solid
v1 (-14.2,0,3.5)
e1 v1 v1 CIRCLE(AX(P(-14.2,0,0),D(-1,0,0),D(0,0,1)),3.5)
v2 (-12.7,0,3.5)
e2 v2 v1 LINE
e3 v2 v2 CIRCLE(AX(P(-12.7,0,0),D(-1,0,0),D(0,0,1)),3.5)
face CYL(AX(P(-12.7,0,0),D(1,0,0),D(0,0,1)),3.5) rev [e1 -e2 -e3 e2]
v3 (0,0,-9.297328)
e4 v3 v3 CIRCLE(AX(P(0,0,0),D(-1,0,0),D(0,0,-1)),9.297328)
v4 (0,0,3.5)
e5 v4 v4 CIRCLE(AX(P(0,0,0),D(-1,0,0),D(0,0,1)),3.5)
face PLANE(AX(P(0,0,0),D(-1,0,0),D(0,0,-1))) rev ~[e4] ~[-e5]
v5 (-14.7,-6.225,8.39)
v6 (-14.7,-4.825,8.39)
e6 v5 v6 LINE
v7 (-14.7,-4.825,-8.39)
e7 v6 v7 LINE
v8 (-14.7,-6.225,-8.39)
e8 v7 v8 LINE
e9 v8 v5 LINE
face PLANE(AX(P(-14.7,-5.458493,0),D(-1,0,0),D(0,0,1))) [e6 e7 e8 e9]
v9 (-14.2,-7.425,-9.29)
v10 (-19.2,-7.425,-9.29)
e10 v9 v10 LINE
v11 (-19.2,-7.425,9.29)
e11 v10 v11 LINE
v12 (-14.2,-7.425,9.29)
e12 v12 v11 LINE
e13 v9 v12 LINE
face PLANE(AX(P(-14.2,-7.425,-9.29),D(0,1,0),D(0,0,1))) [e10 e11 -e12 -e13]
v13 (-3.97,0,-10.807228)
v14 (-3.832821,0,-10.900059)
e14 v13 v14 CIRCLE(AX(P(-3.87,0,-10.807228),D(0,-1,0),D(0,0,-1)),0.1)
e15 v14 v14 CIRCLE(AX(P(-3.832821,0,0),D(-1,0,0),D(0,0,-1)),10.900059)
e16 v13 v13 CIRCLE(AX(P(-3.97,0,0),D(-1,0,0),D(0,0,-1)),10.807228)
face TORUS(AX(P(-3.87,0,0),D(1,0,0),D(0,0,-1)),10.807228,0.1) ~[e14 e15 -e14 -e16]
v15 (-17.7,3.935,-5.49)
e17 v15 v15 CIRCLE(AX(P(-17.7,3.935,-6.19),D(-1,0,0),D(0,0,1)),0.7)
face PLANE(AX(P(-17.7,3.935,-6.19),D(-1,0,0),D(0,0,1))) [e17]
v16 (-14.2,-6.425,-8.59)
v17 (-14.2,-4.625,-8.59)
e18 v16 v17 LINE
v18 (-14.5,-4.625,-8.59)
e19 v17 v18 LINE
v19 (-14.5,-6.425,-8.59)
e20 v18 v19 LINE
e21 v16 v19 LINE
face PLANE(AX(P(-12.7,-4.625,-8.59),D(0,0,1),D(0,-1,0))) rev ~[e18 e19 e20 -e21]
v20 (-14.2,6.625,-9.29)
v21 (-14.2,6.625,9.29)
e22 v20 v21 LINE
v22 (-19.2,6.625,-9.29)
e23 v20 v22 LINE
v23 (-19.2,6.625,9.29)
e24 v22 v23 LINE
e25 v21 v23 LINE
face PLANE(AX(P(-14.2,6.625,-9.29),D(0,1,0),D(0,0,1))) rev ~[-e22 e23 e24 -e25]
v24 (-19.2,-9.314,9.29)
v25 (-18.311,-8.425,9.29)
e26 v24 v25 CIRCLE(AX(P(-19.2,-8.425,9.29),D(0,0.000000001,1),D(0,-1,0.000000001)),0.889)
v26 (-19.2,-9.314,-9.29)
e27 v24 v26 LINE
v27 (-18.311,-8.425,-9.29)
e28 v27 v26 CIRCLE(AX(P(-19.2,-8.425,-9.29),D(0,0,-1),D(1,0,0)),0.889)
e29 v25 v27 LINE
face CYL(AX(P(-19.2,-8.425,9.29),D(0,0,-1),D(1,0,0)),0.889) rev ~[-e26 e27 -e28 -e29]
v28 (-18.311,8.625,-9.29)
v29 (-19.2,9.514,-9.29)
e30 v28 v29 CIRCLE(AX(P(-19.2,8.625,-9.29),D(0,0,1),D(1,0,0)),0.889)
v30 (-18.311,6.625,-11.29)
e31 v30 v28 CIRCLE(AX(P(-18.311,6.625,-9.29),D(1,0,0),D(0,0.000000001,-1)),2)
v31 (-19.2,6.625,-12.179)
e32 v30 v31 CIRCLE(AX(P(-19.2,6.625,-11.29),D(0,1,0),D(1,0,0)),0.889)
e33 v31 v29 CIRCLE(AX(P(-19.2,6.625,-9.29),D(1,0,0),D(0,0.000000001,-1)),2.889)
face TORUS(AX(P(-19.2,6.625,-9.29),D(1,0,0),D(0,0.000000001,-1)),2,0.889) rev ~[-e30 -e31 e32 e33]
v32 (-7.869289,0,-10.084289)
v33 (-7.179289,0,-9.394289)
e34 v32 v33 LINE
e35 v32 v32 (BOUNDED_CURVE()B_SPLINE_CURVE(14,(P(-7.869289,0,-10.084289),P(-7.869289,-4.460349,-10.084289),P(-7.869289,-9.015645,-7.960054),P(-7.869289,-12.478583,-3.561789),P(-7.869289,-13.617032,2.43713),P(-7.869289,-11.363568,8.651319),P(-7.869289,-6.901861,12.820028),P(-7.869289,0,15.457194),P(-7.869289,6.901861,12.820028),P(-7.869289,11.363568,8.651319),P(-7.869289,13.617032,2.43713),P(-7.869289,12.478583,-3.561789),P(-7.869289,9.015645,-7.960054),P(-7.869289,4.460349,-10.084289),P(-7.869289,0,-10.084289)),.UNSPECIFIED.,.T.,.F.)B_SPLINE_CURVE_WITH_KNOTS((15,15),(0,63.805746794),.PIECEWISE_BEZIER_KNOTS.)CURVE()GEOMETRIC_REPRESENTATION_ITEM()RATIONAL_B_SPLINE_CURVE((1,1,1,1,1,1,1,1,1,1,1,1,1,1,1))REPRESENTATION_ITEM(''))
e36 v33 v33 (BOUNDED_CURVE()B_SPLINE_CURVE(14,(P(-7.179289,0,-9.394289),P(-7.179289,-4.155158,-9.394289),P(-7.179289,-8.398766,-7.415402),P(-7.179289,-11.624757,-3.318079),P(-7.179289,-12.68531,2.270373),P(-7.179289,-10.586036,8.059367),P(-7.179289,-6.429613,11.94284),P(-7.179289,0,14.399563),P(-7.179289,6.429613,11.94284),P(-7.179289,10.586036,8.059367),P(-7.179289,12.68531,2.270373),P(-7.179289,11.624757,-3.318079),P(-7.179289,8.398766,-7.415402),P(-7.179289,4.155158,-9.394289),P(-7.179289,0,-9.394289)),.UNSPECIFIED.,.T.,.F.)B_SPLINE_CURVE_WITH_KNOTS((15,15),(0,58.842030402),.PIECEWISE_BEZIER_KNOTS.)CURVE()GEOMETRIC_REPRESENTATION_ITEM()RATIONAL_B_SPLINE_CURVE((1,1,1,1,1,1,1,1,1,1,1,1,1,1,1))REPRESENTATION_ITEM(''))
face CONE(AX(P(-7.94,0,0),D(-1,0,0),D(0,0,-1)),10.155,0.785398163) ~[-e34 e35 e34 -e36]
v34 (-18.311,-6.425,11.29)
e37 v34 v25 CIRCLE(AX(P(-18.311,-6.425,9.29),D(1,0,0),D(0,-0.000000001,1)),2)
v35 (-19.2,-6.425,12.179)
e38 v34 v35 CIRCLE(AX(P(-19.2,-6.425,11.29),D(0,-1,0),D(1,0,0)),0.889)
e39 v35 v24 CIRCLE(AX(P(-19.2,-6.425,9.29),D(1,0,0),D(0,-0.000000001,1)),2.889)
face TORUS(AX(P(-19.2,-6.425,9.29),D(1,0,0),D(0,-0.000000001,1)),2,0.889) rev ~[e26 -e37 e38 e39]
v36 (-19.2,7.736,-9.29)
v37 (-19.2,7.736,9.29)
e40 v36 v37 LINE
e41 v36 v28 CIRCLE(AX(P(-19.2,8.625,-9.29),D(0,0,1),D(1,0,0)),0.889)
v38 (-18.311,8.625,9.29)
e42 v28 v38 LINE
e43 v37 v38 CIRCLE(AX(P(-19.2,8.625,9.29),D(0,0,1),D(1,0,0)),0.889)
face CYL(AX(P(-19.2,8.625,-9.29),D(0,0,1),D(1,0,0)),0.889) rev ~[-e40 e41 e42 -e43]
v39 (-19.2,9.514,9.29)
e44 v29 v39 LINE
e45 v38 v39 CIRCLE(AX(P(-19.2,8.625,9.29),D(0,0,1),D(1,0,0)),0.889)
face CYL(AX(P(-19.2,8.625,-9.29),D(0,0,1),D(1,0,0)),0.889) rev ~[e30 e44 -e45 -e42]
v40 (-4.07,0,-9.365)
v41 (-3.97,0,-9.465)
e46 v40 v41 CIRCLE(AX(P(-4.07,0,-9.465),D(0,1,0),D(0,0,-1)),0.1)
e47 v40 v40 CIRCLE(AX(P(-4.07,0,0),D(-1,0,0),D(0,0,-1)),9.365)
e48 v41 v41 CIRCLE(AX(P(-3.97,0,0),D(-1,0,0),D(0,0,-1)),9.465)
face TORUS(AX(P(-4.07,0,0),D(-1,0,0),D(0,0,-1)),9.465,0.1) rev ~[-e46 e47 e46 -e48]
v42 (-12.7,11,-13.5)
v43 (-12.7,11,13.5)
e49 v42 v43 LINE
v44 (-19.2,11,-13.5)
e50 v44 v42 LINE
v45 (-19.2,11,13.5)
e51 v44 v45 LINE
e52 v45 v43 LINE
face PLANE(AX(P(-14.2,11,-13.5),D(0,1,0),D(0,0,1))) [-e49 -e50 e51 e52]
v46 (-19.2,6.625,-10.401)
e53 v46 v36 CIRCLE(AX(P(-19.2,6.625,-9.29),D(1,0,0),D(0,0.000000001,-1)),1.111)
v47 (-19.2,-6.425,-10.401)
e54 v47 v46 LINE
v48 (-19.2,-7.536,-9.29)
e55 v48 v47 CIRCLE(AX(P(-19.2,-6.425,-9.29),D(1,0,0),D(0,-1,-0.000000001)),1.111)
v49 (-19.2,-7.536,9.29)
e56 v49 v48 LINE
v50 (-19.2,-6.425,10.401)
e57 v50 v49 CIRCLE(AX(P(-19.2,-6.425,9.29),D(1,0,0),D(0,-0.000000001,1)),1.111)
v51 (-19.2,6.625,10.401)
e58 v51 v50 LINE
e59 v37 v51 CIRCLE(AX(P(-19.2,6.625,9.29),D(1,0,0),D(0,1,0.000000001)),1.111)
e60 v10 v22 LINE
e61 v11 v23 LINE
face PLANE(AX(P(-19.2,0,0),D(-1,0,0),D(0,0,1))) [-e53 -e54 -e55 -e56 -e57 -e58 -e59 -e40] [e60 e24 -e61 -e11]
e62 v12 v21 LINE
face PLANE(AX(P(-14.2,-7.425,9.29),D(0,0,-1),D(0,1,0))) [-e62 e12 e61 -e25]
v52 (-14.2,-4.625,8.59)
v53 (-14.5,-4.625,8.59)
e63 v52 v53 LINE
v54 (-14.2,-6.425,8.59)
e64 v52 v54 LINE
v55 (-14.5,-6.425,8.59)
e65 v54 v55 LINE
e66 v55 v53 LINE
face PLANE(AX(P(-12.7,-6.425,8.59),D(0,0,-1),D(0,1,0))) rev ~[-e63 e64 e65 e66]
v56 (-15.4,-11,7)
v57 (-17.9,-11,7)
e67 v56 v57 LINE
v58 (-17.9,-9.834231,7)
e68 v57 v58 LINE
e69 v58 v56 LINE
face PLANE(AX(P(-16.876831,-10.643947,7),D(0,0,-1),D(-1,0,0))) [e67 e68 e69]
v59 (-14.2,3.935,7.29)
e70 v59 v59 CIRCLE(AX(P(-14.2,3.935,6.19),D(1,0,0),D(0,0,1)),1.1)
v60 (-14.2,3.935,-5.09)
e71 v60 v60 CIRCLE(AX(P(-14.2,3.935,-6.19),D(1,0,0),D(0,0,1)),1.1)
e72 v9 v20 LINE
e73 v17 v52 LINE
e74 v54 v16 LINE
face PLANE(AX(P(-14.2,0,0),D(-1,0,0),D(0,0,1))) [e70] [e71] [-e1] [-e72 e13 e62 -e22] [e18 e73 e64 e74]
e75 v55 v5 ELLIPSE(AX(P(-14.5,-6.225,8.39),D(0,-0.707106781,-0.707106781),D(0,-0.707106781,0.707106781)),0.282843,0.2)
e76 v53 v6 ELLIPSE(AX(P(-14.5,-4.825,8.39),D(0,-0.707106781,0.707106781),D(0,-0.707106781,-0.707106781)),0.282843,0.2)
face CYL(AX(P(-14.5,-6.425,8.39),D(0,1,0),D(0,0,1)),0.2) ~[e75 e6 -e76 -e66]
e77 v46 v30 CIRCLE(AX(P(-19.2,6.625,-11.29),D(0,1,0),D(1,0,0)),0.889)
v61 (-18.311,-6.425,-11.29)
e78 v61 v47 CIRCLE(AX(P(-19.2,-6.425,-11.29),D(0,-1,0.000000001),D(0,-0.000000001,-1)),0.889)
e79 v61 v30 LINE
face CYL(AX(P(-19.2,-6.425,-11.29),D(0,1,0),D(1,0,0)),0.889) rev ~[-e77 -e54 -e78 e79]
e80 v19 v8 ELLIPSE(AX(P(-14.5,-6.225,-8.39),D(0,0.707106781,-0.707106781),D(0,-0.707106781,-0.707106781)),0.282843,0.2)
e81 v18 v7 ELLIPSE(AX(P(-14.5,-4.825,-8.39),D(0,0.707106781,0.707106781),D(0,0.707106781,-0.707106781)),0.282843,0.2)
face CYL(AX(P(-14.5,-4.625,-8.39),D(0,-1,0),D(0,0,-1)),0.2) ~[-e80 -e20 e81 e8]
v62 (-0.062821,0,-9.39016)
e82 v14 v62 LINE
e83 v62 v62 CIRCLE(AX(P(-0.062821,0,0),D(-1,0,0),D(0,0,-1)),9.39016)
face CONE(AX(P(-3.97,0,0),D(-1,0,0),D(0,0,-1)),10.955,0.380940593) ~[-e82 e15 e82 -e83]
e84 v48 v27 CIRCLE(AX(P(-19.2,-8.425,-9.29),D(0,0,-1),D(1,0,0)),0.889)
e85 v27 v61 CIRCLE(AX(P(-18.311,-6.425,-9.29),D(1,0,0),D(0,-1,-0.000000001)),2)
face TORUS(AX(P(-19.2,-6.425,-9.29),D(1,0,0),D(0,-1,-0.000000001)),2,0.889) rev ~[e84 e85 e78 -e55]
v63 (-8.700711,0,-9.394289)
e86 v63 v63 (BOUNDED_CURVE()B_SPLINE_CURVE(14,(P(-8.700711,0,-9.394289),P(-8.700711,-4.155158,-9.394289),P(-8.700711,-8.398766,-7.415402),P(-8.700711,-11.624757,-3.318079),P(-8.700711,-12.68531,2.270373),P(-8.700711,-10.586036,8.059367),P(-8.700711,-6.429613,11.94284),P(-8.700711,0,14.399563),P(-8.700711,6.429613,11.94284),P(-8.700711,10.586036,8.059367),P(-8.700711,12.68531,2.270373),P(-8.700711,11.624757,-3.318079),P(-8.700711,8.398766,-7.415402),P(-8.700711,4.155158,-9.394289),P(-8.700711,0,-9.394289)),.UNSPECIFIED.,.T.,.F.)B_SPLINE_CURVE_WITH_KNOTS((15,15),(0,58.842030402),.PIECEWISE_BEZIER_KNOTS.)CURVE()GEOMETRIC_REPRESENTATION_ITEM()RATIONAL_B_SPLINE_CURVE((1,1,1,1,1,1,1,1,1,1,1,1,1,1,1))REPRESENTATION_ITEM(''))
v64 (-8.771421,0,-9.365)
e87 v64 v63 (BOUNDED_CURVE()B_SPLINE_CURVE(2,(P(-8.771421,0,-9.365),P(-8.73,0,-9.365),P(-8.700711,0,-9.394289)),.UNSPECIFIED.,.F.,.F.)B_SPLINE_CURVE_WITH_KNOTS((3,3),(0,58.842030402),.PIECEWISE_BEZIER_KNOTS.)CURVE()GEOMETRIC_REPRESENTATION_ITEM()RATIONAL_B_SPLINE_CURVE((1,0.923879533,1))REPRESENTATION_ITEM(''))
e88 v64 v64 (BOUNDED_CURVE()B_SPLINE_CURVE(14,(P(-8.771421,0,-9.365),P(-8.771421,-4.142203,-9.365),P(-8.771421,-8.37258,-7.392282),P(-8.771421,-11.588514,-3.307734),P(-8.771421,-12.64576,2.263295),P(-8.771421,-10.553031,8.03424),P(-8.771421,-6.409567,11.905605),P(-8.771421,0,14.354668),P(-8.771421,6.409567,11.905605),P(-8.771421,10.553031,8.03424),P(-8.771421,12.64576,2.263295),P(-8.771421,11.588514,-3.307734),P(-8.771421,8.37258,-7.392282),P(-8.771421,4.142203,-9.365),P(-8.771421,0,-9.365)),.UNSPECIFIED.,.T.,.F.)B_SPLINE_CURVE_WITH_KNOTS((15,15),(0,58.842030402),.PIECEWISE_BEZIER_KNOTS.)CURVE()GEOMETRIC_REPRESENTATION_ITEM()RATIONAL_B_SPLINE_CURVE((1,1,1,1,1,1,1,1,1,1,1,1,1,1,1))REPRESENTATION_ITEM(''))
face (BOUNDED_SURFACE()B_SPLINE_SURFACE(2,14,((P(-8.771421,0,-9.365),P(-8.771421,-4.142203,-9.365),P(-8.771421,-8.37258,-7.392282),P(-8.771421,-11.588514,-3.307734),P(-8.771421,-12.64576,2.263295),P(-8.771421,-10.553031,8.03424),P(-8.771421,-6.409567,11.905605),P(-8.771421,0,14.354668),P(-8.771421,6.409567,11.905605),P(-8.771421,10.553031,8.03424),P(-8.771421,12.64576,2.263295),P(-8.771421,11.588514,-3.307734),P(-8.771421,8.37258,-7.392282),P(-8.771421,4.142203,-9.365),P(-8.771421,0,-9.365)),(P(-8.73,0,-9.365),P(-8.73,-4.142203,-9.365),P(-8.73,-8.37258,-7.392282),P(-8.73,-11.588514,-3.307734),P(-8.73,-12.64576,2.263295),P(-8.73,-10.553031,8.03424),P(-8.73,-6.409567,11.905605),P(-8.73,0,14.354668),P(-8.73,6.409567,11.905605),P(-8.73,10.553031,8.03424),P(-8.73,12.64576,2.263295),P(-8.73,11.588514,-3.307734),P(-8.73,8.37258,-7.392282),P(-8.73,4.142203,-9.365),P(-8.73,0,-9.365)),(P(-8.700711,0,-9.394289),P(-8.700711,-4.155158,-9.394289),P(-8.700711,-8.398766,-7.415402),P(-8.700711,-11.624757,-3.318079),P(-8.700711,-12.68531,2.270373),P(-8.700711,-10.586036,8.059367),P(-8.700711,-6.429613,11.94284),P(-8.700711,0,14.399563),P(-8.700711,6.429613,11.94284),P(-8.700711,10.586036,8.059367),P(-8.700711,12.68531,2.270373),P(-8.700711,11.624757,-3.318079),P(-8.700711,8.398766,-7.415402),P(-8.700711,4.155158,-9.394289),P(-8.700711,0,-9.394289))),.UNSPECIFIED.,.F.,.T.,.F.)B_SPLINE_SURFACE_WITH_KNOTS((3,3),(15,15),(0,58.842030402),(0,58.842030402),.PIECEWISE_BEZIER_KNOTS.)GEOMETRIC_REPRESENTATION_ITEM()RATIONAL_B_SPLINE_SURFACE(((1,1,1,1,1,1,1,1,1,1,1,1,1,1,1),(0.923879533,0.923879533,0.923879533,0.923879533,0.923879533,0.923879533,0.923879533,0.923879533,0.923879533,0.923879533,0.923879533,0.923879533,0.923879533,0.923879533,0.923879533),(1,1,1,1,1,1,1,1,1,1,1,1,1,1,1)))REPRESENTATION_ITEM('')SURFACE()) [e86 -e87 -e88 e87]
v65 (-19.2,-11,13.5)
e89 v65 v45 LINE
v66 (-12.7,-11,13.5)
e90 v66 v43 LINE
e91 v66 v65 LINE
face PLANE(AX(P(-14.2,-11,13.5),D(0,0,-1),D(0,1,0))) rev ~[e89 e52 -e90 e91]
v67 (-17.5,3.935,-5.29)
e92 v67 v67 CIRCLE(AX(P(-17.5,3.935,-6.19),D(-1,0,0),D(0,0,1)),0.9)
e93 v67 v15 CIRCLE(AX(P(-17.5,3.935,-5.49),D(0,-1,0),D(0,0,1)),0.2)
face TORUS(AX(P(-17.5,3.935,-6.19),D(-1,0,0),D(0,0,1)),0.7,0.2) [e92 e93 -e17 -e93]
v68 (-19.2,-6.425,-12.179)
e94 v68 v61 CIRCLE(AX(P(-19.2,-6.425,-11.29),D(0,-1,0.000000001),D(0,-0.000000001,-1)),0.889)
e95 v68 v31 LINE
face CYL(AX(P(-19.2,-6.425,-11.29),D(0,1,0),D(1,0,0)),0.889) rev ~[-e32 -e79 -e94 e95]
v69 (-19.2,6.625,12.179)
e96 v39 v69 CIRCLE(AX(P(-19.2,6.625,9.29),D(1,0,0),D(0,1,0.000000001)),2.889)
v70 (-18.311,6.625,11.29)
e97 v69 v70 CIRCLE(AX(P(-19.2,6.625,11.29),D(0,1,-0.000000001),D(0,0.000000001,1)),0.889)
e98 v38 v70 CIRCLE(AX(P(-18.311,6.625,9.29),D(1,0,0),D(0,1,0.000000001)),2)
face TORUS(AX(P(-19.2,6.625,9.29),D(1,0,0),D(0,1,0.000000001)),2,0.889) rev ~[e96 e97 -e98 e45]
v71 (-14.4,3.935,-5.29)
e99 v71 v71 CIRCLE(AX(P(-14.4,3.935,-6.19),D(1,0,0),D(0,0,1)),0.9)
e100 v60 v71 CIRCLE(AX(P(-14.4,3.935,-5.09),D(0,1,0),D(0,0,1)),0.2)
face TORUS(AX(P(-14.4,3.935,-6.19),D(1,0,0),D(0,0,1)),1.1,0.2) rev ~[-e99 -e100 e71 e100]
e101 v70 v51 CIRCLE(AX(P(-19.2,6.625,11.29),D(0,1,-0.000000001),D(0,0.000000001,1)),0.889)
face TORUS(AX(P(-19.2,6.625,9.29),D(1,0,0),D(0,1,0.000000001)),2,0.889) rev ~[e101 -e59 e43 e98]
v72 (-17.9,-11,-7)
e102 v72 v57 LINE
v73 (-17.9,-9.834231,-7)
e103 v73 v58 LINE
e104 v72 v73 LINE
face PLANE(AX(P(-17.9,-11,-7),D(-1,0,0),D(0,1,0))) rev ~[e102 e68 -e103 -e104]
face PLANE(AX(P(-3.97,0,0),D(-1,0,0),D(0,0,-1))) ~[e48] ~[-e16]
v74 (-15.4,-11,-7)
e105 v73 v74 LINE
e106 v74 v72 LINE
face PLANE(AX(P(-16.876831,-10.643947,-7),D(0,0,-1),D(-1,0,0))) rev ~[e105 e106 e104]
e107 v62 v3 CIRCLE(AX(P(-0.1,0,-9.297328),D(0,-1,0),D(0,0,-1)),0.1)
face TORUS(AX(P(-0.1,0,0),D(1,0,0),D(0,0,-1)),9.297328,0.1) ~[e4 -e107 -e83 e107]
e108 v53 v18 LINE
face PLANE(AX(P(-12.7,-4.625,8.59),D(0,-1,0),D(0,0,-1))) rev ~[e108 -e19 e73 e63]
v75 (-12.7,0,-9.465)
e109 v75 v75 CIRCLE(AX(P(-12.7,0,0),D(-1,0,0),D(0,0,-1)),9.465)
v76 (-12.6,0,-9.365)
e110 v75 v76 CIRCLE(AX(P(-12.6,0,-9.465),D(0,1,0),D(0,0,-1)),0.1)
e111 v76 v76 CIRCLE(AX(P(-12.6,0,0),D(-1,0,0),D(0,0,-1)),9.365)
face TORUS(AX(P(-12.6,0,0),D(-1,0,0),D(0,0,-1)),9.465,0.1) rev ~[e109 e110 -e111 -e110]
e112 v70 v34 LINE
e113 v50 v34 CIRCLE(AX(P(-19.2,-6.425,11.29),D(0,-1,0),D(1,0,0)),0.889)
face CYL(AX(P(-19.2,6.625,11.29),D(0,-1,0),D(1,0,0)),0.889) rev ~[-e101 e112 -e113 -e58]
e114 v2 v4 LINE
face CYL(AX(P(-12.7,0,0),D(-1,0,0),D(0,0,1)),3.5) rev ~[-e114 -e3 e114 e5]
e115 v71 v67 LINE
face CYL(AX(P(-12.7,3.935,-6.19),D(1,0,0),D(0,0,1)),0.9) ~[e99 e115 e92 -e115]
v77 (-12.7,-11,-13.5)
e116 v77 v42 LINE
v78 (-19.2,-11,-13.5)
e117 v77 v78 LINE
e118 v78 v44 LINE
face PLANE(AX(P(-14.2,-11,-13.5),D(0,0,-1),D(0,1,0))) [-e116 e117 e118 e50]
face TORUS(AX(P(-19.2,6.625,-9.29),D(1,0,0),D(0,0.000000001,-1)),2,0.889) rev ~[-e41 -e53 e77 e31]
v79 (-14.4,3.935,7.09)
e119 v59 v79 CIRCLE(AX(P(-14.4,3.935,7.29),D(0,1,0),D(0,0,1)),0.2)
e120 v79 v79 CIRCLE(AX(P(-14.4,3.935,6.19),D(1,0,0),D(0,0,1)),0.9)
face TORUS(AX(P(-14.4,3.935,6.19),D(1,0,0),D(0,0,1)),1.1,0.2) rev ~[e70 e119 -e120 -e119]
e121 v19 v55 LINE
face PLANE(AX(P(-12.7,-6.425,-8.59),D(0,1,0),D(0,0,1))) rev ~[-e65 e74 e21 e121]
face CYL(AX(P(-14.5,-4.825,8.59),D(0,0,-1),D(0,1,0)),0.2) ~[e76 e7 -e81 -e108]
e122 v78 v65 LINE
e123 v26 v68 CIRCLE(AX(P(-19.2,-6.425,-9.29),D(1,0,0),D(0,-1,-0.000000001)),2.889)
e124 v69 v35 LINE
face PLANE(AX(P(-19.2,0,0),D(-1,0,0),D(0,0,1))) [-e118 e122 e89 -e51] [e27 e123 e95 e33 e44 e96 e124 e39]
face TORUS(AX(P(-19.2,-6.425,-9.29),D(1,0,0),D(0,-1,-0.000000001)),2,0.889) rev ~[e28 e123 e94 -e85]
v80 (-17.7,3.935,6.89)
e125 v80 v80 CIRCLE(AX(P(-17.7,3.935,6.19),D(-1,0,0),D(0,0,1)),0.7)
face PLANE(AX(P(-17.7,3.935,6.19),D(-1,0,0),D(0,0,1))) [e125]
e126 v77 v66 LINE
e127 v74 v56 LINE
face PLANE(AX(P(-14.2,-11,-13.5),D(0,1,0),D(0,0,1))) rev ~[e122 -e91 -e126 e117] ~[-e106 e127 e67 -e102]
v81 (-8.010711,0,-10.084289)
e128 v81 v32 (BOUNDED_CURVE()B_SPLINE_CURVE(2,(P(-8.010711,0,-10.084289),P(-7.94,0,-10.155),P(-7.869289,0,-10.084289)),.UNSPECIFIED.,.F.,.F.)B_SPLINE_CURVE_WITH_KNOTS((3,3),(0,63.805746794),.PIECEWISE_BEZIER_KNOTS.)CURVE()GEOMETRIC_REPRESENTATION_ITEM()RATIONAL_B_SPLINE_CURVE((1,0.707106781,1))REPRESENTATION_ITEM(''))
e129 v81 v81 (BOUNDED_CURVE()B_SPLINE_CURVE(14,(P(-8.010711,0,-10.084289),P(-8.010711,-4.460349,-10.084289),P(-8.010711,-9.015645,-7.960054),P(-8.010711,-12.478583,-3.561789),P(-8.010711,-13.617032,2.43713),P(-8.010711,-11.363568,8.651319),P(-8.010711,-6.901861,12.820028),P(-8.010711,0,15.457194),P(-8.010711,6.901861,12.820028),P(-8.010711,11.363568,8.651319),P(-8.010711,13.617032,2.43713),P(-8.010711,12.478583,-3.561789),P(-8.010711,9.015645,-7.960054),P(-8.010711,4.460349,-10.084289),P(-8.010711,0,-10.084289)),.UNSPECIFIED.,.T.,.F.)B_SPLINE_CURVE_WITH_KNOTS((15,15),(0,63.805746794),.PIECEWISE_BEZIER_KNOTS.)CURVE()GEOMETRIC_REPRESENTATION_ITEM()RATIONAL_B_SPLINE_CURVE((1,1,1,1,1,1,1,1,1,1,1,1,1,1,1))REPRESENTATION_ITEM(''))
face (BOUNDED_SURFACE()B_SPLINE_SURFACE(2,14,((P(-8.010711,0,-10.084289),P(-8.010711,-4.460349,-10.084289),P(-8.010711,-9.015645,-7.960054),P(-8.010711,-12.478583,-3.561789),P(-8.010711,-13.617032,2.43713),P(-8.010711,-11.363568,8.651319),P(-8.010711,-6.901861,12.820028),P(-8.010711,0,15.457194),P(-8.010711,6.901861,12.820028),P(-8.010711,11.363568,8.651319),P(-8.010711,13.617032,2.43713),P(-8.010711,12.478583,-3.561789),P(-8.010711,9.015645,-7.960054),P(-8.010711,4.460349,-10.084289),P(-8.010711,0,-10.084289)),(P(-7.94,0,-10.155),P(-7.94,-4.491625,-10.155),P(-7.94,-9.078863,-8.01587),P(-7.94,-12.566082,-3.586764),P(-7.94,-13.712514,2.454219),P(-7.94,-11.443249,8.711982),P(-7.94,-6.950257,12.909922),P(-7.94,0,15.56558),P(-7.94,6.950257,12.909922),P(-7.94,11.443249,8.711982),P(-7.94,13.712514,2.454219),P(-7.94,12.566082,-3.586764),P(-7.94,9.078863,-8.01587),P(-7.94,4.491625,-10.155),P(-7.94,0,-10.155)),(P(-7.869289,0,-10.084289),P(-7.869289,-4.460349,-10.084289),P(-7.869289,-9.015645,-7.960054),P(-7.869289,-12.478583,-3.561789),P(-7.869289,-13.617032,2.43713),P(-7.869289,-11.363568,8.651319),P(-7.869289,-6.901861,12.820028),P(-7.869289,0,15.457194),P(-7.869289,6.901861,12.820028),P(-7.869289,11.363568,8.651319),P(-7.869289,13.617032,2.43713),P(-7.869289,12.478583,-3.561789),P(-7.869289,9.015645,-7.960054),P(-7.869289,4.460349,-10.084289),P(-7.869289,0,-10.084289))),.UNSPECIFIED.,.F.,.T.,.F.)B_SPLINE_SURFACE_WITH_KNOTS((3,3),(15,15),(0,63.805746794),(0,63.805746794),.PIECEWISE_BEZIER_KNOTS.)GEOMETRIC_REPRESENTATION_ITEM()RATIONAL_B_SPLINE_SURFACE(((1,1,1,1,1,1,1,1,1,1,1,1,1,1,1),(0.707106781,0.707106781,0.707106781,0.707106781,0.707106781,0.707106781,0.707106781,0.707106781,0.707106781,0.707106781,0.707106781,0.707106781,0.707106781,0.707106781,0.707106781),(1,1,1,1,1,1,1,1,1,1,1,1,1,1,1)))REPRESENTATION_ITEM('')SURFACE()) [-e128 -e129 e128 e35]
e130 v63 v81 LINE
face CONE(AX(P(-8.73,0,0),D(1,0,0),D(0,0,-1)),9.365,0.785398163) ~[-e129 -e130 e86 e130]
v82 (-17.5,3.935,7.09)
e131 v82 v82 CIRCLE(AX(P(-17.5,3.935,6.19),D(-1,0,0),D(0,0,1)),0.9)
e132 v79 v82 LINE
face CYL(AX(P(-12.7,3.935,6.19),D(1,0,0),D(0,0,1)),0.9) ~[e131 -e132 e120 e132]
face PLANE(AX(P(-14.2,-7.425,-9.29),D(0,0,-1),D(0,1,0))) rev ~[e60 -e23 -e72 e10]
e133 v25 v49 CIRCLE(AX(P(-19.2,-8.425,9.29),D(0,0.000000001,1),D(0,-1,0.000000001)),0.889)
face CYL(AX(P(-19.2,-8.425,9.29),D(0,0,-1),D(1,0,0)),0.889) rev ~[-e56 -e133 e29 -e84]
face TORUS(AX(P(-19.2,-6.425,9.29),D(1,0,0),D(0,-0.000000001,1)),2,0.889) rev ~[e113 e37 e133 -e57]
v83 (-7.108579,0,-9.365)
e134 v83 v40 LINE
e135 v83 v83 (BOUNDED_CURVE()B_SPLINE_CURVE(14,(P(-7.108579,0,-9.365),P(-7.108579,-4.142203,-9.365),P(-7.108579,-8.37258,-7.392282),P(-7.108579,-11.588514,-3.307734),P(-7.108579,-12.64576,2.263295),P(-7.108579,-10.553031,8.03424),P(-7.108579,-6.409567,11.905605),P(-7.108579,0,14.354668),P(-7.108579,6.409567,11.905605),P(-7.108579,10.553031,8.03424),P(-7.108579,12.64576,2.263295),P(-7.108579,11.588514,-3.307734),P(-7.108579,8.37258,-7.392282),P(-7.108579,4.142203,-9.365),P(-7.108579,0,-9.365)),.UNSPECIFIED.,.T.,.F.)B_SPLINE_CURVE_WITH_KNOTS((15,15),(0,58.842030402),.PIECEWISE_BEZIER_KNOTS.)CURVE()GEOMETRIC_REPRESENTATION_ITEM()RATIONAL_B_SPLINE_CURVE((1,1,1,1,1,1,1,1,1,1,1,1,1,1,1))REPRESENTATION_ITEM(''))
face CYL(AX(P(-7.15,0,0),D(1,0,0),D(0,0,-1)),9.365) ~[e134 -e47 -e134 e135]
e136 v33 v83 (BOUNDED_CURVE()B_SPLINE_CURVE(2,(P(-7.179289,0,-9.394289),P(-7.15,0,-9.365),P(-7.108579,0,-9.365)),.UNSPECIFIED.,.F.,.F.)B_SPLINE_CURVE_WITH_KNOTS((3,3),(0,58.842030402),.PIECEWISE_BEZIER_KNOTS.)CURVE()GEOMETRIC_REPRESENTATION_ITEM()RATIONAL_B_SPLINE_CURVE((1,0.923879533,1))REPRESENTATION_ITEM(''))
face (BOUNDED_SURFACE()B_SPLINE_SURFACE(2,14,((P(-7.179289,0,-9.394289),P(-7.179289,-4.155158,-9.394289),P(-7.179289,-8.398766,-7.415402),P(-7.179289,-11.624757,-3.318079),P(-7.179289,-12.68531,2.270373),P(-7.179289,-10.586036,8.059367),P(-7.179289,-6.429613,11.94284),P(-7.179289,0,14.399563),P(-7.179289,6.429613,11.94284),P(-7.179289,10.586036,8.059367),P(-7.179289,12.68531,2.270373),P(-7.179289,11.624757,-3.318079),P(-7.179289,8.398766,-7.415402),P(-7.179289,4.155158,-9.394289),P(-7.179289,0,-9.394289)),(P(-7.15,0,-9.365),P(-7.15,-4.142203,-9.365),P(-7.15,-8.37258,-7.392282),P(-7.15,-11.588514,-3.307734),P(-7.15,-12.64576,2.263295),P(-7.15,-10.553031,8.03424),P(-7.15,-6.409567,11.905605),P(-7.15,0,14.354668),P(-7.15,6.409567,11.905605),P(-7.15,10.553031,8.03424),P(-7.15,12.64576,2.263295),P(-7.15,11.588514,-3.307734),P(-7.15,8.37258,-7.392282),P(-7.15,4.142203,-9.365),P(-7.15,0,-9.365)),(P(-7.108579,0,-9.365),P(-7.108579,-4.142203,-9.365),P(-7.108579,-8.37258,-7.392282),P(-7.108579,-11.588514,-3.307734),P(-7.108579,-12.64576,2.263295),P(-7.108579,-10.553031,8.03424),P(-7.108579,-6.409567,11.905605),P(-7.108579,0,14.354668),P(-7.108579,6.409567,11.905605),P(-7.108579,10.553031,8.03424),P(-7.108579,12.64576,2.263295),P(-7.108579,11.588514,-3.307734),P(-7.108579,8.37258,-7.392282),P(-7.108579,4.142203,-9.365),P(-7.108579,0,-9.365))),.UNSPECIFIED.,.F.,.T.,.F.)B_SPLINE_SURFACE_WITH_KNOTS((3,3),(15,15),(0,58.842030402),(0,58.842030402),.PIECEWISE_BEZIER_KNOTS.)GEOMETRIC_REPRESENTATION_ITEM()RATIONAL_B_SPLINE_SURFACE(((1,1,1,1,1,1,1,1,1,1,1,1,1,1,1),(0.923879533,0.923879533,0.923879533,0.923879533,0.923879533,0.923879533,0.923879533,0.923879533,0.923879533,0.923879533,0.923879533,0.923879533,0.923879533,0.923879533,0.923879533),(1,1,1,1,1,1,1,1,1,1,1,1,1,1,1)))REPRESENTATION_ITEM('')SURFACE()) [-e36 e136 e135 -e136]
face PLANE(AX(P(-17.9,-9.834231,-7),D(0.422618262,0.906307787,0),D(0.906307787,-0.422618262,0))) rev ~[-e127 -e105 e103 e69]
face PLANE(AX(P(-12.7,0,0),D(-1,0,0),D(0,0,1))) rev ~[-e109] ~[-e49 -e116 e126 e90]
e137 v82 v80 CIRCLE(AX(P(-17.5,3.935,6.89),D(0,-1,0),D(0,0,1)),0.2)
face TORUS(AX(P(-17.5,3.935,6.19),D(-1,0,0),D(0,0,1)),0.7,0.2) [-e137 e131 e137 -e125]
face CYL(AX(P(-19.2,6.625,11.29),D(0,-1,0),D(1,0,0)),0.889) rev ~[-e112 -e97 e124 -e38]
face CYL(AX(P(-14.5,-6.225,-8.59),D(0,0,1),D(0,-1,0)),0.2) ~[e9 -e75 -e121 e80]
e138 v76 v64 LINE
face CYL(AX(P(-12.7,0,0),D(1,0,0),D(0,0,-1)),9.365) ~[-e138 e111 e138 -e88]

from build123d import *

# Parameters (mm, degrees)
SKETCH2_W               = 27
SKETCH2_H               = 22
SKETCH2_R               = 3.5
BOSS_EXTRUDE1_DEPTH     = 1.5
BOSS_EXTRUDE2_DEPTH     = 2
SKETCH2_4_R             = 0.9
BOSS_EXTRUDE3_DEPTH     = 5
SKETCH2_5_R             = 3.5
SKETCH2_5_W             = 2.46
SKETCH2_5_H             = 4.35
CUT_EXTRUDE1_DEPTH      = 22.553190019
BOSS_EXTRUDE4_START     = 1.5
SKETCH2_6_W             = 27
SKETCH2_6_H             = 22
SKETCH2_6_W_2           = 18.58
SKETCH2_6_H_2           = 14.05
BOSS_EXTRUDE4_DEPTH     = 5
FILLET1_R               = 0.1
FILLET4_R               = 0.2
FILLET5_R               = 0.2
CUT_SWEEP1_PROFILE_R    = 0.889
FILLET6_R               = 0.2
CUT_EXTRUDE2_DEPTH      = 7
CUT_EXTRUDE2_DEPTH_BACK = 7


with BuildPart() as part:
    # Sketch1 → Revolve1 (revolve)
    with BuildSketch(Plane(origin=(0, 0, 0), x_dir=(1, 0, 0), z_dir=(0, 1, 0))):
        Polygon((0, 0), (-12.7, 0), (-12.7, 9.365), (-8.73, 9.365), (-7.94, 10.155), (-7.15, 9.365), (-3.97, 9.365), (-3.97, 10.955), (0, 9.365), align=None)
    revolve(axis=Axis((0, 0, 0), (-1, 0, 0)))

    # Sketch2 → Boss-Extrude1 (add)
    with BuildSketch(Plane.ZY.offset(12.7)):
        Rectangle(SKETCH2_W, SKETCH2_H)
        Circle(SKETCH2_R, mode=Mode.SUBTRACT)
    extrude(amount=BOSS_EXTRUDE1_DEPTH)

    # Sketch2<3> → Boss-Extrude2 (add)
    with BuildSketch(Plane.ZY.offset(12.7)):
        with BuildLine():
            ThreePointArc((-8.143254878, -4.625), (-7.532295819, -5.564866997), (-6.813413242, -6.425))
            Line((-6.813413242, -6.425), (6.813413242, -6.425))
            ThreePointArc((6.813413242, -6.425), (7.532295819, -5.564866997), (8.143254878, -4.625))
            Line((8.143254878, -4.625), (-8.143254878, -4.625))
        make_face()
        with BuildLine():
            ThreePointArc((8.143254878, -4.625), (7.532295819, -5.564866997), (6.813413242, -6.425))
            Line((6.813413242, -6.425), (8.59, -6.425))
            Line((8.59, -6.425), (8.59, -4.625))
            Line((8.59, -4.625), (8.143254878, -4.625))
        make_face()
        with BuildLine():
            Line((-8.59, -4.625), (-8.59, -6.425))
            Line((-8.59, -6.425), (-6.813413242, -6.425))
            ThreePointArc((-6.813413242, -6.425), (-7.532295819, -5.564866997), (-8.143254878, -4.625))
            Line((-8.143254878, -4.625), (-8.59, -4.625))
        make_face()
    extrude(amount=BOSS_EXTRUDE2_DEPTH)

    # Sketch2<4> → Boss-Extrude3 (add)
    with BuildSketch(Plane.ZY.offset(12.7)):
        with Locations((6.19, 3.935)):
            Circle(SKETCH2_4_R)
        with Locations((-6.19, 3.935)):
            Circle(SKETCH2_4_R)
    extrude(amount=BOSS_EXTRUDE3_DEPTH)

    # Sketch2<5> → Cut-Extrude1 (cut, through all)
    # profile 1 of 2: a face of its own
    with BuildSketch(Plane.ZY.offset(12.7)):
        Circle(SKETCH2_5_R)
        with Locations((-0.31, 0.56)):
            Rectangle(SKETCH2_5_W, SKETCH2_5_H, mode=Mode.SUBTRACT)
    # profile 2 of 2: a face of its own
    with BuildSketch(Plane.ZY.offset(12.7)):
        with Locations((-0.31, 0.56)):
            Rectangle(SKETCH2_5_W, SKETCH2_5_H)
    extrude(amount=-CUT_EXTRUDE1_DEPTH, mode=Mode.SUBTRACT)

    # Sketch2<6> → Boss-Extrude4 (add)
    with BuildSketch(Plane.ZY.offset(12.7).offset(BOSS_EXTRUDE4_START)):
        Rectangle(SKETCH2_6_W, SKETCH2_6_H)
        with Locations((0, -0.4)):
            Rectangle(SKETCH2_6_W_2, SKETCH2_6_H_2, mode=Mode.SUBTRACT)
    extrude(amount=BOSS_EXTRUDE4_DEPTH)

    # Fillet1
    fillet1_edges = [part.edges().sort_by_distance(p)[0] for p in [
        (-3.97, 0, 9.365),
        (-3.97, 0, 10.955),
        (0, 0, 9.365),
        (-12.7, 0, 9.365),
        (-8.73, 0, 9.365),
        (-7.94, 0, 10.155),
        (-7.15, 0, 9.365),
    ]]
    fillet(fillet1_edges, radius=FILLET1_R)

    # Fillet4
    fillet4_edges = [part.edges().sort_by_distance(p)[0] for p in [
        (-17.7, 3.935, 5.29),
        (-17.7, 3.935, -7.09),
    ]]
    fillet(fillet4_edges, radius=FILLET4_R)

    # Fillet5
    fillet5_edges = [part.edges().sort_by_distance(p)[0] for p in [
        (-14.7, -4.625, 0),
        (-14.7, -5.525, -8.59),
        (-14.7, -6.425, 0),
        (-14.7, -5.525, 8.59),
    ]]
    fillet(fillet5_edges, radius=FILLET5_R)

    # Cut-Sweep1: sweep along a path in Sketch6
    with BuildLine(Plane.ZY.offset(19.2)) as cut_sweep1_path:
        Line((-9.29, 8.625), (9.29, 8.625))
        ThreePointArc((9.29, 8.625), (10.704213562, 8.039213562), (11.29, 6.625))
        Line((11.29, 6.625), (11.29, -6.425))
        ThreePointArc((11.29, -6.425), (10.704213562, -7.839213562), (9.29, -8.425))
        Line((9.29, -8.425), (-9.29, -8.425))
        ThreePointArc((-9.29, -8.425), (-10.704213562, -7.839213562), (-11.29, -6.425))
        Line((-11.29, -6.425), (-11.29, 6.625))
        ThreePointArc((-11.29, 6.625), (-10.704213562, 8.039213562), (-9.29, 8.625))
    # Cut-Sweep1 profile (on start of the path) → Cut-Sweep1 (sweep, cut)
    with BuildSketch(Plane(origin=(-19.2, 8.625, -9.29), x_dir=(1, 0, 0), z_dir=(0, 0, 1))):
        Circle(CUT_SWEEP1_PROFILE_R)
    sweep(path=cut_sweep1_path.line, mode=Mode.SUBTRACT)

    # Fillet6
    fillet6_edges = [part.edges().sort_by_distance(p)[0] for p in [
        (-14.2, 3.935, 5.29),
        (-14.2, 3.935, -7.09),
    ]]
    fillet(fillet6_edges, radius=FILLET6_R)

    # Sketch8 → Cut-Extrude2 (cut, two sides: drawn at the far end of the back side and taken through both)
    with BuildSketch(Plane.XY.offset(-CUT_EXTRUDE2_DEPTH_BACK)):
        Polygon((-17.9, -11), (-17.9, -9.834230855), (-15.4, -11), align=None)
    extrude(amount=CUT_EXTRUDE2_DEPTH + CUT_EXTRUDE2_DEPTH_BACK, mode=Mode.SUBTRACT)


solid = part.part
